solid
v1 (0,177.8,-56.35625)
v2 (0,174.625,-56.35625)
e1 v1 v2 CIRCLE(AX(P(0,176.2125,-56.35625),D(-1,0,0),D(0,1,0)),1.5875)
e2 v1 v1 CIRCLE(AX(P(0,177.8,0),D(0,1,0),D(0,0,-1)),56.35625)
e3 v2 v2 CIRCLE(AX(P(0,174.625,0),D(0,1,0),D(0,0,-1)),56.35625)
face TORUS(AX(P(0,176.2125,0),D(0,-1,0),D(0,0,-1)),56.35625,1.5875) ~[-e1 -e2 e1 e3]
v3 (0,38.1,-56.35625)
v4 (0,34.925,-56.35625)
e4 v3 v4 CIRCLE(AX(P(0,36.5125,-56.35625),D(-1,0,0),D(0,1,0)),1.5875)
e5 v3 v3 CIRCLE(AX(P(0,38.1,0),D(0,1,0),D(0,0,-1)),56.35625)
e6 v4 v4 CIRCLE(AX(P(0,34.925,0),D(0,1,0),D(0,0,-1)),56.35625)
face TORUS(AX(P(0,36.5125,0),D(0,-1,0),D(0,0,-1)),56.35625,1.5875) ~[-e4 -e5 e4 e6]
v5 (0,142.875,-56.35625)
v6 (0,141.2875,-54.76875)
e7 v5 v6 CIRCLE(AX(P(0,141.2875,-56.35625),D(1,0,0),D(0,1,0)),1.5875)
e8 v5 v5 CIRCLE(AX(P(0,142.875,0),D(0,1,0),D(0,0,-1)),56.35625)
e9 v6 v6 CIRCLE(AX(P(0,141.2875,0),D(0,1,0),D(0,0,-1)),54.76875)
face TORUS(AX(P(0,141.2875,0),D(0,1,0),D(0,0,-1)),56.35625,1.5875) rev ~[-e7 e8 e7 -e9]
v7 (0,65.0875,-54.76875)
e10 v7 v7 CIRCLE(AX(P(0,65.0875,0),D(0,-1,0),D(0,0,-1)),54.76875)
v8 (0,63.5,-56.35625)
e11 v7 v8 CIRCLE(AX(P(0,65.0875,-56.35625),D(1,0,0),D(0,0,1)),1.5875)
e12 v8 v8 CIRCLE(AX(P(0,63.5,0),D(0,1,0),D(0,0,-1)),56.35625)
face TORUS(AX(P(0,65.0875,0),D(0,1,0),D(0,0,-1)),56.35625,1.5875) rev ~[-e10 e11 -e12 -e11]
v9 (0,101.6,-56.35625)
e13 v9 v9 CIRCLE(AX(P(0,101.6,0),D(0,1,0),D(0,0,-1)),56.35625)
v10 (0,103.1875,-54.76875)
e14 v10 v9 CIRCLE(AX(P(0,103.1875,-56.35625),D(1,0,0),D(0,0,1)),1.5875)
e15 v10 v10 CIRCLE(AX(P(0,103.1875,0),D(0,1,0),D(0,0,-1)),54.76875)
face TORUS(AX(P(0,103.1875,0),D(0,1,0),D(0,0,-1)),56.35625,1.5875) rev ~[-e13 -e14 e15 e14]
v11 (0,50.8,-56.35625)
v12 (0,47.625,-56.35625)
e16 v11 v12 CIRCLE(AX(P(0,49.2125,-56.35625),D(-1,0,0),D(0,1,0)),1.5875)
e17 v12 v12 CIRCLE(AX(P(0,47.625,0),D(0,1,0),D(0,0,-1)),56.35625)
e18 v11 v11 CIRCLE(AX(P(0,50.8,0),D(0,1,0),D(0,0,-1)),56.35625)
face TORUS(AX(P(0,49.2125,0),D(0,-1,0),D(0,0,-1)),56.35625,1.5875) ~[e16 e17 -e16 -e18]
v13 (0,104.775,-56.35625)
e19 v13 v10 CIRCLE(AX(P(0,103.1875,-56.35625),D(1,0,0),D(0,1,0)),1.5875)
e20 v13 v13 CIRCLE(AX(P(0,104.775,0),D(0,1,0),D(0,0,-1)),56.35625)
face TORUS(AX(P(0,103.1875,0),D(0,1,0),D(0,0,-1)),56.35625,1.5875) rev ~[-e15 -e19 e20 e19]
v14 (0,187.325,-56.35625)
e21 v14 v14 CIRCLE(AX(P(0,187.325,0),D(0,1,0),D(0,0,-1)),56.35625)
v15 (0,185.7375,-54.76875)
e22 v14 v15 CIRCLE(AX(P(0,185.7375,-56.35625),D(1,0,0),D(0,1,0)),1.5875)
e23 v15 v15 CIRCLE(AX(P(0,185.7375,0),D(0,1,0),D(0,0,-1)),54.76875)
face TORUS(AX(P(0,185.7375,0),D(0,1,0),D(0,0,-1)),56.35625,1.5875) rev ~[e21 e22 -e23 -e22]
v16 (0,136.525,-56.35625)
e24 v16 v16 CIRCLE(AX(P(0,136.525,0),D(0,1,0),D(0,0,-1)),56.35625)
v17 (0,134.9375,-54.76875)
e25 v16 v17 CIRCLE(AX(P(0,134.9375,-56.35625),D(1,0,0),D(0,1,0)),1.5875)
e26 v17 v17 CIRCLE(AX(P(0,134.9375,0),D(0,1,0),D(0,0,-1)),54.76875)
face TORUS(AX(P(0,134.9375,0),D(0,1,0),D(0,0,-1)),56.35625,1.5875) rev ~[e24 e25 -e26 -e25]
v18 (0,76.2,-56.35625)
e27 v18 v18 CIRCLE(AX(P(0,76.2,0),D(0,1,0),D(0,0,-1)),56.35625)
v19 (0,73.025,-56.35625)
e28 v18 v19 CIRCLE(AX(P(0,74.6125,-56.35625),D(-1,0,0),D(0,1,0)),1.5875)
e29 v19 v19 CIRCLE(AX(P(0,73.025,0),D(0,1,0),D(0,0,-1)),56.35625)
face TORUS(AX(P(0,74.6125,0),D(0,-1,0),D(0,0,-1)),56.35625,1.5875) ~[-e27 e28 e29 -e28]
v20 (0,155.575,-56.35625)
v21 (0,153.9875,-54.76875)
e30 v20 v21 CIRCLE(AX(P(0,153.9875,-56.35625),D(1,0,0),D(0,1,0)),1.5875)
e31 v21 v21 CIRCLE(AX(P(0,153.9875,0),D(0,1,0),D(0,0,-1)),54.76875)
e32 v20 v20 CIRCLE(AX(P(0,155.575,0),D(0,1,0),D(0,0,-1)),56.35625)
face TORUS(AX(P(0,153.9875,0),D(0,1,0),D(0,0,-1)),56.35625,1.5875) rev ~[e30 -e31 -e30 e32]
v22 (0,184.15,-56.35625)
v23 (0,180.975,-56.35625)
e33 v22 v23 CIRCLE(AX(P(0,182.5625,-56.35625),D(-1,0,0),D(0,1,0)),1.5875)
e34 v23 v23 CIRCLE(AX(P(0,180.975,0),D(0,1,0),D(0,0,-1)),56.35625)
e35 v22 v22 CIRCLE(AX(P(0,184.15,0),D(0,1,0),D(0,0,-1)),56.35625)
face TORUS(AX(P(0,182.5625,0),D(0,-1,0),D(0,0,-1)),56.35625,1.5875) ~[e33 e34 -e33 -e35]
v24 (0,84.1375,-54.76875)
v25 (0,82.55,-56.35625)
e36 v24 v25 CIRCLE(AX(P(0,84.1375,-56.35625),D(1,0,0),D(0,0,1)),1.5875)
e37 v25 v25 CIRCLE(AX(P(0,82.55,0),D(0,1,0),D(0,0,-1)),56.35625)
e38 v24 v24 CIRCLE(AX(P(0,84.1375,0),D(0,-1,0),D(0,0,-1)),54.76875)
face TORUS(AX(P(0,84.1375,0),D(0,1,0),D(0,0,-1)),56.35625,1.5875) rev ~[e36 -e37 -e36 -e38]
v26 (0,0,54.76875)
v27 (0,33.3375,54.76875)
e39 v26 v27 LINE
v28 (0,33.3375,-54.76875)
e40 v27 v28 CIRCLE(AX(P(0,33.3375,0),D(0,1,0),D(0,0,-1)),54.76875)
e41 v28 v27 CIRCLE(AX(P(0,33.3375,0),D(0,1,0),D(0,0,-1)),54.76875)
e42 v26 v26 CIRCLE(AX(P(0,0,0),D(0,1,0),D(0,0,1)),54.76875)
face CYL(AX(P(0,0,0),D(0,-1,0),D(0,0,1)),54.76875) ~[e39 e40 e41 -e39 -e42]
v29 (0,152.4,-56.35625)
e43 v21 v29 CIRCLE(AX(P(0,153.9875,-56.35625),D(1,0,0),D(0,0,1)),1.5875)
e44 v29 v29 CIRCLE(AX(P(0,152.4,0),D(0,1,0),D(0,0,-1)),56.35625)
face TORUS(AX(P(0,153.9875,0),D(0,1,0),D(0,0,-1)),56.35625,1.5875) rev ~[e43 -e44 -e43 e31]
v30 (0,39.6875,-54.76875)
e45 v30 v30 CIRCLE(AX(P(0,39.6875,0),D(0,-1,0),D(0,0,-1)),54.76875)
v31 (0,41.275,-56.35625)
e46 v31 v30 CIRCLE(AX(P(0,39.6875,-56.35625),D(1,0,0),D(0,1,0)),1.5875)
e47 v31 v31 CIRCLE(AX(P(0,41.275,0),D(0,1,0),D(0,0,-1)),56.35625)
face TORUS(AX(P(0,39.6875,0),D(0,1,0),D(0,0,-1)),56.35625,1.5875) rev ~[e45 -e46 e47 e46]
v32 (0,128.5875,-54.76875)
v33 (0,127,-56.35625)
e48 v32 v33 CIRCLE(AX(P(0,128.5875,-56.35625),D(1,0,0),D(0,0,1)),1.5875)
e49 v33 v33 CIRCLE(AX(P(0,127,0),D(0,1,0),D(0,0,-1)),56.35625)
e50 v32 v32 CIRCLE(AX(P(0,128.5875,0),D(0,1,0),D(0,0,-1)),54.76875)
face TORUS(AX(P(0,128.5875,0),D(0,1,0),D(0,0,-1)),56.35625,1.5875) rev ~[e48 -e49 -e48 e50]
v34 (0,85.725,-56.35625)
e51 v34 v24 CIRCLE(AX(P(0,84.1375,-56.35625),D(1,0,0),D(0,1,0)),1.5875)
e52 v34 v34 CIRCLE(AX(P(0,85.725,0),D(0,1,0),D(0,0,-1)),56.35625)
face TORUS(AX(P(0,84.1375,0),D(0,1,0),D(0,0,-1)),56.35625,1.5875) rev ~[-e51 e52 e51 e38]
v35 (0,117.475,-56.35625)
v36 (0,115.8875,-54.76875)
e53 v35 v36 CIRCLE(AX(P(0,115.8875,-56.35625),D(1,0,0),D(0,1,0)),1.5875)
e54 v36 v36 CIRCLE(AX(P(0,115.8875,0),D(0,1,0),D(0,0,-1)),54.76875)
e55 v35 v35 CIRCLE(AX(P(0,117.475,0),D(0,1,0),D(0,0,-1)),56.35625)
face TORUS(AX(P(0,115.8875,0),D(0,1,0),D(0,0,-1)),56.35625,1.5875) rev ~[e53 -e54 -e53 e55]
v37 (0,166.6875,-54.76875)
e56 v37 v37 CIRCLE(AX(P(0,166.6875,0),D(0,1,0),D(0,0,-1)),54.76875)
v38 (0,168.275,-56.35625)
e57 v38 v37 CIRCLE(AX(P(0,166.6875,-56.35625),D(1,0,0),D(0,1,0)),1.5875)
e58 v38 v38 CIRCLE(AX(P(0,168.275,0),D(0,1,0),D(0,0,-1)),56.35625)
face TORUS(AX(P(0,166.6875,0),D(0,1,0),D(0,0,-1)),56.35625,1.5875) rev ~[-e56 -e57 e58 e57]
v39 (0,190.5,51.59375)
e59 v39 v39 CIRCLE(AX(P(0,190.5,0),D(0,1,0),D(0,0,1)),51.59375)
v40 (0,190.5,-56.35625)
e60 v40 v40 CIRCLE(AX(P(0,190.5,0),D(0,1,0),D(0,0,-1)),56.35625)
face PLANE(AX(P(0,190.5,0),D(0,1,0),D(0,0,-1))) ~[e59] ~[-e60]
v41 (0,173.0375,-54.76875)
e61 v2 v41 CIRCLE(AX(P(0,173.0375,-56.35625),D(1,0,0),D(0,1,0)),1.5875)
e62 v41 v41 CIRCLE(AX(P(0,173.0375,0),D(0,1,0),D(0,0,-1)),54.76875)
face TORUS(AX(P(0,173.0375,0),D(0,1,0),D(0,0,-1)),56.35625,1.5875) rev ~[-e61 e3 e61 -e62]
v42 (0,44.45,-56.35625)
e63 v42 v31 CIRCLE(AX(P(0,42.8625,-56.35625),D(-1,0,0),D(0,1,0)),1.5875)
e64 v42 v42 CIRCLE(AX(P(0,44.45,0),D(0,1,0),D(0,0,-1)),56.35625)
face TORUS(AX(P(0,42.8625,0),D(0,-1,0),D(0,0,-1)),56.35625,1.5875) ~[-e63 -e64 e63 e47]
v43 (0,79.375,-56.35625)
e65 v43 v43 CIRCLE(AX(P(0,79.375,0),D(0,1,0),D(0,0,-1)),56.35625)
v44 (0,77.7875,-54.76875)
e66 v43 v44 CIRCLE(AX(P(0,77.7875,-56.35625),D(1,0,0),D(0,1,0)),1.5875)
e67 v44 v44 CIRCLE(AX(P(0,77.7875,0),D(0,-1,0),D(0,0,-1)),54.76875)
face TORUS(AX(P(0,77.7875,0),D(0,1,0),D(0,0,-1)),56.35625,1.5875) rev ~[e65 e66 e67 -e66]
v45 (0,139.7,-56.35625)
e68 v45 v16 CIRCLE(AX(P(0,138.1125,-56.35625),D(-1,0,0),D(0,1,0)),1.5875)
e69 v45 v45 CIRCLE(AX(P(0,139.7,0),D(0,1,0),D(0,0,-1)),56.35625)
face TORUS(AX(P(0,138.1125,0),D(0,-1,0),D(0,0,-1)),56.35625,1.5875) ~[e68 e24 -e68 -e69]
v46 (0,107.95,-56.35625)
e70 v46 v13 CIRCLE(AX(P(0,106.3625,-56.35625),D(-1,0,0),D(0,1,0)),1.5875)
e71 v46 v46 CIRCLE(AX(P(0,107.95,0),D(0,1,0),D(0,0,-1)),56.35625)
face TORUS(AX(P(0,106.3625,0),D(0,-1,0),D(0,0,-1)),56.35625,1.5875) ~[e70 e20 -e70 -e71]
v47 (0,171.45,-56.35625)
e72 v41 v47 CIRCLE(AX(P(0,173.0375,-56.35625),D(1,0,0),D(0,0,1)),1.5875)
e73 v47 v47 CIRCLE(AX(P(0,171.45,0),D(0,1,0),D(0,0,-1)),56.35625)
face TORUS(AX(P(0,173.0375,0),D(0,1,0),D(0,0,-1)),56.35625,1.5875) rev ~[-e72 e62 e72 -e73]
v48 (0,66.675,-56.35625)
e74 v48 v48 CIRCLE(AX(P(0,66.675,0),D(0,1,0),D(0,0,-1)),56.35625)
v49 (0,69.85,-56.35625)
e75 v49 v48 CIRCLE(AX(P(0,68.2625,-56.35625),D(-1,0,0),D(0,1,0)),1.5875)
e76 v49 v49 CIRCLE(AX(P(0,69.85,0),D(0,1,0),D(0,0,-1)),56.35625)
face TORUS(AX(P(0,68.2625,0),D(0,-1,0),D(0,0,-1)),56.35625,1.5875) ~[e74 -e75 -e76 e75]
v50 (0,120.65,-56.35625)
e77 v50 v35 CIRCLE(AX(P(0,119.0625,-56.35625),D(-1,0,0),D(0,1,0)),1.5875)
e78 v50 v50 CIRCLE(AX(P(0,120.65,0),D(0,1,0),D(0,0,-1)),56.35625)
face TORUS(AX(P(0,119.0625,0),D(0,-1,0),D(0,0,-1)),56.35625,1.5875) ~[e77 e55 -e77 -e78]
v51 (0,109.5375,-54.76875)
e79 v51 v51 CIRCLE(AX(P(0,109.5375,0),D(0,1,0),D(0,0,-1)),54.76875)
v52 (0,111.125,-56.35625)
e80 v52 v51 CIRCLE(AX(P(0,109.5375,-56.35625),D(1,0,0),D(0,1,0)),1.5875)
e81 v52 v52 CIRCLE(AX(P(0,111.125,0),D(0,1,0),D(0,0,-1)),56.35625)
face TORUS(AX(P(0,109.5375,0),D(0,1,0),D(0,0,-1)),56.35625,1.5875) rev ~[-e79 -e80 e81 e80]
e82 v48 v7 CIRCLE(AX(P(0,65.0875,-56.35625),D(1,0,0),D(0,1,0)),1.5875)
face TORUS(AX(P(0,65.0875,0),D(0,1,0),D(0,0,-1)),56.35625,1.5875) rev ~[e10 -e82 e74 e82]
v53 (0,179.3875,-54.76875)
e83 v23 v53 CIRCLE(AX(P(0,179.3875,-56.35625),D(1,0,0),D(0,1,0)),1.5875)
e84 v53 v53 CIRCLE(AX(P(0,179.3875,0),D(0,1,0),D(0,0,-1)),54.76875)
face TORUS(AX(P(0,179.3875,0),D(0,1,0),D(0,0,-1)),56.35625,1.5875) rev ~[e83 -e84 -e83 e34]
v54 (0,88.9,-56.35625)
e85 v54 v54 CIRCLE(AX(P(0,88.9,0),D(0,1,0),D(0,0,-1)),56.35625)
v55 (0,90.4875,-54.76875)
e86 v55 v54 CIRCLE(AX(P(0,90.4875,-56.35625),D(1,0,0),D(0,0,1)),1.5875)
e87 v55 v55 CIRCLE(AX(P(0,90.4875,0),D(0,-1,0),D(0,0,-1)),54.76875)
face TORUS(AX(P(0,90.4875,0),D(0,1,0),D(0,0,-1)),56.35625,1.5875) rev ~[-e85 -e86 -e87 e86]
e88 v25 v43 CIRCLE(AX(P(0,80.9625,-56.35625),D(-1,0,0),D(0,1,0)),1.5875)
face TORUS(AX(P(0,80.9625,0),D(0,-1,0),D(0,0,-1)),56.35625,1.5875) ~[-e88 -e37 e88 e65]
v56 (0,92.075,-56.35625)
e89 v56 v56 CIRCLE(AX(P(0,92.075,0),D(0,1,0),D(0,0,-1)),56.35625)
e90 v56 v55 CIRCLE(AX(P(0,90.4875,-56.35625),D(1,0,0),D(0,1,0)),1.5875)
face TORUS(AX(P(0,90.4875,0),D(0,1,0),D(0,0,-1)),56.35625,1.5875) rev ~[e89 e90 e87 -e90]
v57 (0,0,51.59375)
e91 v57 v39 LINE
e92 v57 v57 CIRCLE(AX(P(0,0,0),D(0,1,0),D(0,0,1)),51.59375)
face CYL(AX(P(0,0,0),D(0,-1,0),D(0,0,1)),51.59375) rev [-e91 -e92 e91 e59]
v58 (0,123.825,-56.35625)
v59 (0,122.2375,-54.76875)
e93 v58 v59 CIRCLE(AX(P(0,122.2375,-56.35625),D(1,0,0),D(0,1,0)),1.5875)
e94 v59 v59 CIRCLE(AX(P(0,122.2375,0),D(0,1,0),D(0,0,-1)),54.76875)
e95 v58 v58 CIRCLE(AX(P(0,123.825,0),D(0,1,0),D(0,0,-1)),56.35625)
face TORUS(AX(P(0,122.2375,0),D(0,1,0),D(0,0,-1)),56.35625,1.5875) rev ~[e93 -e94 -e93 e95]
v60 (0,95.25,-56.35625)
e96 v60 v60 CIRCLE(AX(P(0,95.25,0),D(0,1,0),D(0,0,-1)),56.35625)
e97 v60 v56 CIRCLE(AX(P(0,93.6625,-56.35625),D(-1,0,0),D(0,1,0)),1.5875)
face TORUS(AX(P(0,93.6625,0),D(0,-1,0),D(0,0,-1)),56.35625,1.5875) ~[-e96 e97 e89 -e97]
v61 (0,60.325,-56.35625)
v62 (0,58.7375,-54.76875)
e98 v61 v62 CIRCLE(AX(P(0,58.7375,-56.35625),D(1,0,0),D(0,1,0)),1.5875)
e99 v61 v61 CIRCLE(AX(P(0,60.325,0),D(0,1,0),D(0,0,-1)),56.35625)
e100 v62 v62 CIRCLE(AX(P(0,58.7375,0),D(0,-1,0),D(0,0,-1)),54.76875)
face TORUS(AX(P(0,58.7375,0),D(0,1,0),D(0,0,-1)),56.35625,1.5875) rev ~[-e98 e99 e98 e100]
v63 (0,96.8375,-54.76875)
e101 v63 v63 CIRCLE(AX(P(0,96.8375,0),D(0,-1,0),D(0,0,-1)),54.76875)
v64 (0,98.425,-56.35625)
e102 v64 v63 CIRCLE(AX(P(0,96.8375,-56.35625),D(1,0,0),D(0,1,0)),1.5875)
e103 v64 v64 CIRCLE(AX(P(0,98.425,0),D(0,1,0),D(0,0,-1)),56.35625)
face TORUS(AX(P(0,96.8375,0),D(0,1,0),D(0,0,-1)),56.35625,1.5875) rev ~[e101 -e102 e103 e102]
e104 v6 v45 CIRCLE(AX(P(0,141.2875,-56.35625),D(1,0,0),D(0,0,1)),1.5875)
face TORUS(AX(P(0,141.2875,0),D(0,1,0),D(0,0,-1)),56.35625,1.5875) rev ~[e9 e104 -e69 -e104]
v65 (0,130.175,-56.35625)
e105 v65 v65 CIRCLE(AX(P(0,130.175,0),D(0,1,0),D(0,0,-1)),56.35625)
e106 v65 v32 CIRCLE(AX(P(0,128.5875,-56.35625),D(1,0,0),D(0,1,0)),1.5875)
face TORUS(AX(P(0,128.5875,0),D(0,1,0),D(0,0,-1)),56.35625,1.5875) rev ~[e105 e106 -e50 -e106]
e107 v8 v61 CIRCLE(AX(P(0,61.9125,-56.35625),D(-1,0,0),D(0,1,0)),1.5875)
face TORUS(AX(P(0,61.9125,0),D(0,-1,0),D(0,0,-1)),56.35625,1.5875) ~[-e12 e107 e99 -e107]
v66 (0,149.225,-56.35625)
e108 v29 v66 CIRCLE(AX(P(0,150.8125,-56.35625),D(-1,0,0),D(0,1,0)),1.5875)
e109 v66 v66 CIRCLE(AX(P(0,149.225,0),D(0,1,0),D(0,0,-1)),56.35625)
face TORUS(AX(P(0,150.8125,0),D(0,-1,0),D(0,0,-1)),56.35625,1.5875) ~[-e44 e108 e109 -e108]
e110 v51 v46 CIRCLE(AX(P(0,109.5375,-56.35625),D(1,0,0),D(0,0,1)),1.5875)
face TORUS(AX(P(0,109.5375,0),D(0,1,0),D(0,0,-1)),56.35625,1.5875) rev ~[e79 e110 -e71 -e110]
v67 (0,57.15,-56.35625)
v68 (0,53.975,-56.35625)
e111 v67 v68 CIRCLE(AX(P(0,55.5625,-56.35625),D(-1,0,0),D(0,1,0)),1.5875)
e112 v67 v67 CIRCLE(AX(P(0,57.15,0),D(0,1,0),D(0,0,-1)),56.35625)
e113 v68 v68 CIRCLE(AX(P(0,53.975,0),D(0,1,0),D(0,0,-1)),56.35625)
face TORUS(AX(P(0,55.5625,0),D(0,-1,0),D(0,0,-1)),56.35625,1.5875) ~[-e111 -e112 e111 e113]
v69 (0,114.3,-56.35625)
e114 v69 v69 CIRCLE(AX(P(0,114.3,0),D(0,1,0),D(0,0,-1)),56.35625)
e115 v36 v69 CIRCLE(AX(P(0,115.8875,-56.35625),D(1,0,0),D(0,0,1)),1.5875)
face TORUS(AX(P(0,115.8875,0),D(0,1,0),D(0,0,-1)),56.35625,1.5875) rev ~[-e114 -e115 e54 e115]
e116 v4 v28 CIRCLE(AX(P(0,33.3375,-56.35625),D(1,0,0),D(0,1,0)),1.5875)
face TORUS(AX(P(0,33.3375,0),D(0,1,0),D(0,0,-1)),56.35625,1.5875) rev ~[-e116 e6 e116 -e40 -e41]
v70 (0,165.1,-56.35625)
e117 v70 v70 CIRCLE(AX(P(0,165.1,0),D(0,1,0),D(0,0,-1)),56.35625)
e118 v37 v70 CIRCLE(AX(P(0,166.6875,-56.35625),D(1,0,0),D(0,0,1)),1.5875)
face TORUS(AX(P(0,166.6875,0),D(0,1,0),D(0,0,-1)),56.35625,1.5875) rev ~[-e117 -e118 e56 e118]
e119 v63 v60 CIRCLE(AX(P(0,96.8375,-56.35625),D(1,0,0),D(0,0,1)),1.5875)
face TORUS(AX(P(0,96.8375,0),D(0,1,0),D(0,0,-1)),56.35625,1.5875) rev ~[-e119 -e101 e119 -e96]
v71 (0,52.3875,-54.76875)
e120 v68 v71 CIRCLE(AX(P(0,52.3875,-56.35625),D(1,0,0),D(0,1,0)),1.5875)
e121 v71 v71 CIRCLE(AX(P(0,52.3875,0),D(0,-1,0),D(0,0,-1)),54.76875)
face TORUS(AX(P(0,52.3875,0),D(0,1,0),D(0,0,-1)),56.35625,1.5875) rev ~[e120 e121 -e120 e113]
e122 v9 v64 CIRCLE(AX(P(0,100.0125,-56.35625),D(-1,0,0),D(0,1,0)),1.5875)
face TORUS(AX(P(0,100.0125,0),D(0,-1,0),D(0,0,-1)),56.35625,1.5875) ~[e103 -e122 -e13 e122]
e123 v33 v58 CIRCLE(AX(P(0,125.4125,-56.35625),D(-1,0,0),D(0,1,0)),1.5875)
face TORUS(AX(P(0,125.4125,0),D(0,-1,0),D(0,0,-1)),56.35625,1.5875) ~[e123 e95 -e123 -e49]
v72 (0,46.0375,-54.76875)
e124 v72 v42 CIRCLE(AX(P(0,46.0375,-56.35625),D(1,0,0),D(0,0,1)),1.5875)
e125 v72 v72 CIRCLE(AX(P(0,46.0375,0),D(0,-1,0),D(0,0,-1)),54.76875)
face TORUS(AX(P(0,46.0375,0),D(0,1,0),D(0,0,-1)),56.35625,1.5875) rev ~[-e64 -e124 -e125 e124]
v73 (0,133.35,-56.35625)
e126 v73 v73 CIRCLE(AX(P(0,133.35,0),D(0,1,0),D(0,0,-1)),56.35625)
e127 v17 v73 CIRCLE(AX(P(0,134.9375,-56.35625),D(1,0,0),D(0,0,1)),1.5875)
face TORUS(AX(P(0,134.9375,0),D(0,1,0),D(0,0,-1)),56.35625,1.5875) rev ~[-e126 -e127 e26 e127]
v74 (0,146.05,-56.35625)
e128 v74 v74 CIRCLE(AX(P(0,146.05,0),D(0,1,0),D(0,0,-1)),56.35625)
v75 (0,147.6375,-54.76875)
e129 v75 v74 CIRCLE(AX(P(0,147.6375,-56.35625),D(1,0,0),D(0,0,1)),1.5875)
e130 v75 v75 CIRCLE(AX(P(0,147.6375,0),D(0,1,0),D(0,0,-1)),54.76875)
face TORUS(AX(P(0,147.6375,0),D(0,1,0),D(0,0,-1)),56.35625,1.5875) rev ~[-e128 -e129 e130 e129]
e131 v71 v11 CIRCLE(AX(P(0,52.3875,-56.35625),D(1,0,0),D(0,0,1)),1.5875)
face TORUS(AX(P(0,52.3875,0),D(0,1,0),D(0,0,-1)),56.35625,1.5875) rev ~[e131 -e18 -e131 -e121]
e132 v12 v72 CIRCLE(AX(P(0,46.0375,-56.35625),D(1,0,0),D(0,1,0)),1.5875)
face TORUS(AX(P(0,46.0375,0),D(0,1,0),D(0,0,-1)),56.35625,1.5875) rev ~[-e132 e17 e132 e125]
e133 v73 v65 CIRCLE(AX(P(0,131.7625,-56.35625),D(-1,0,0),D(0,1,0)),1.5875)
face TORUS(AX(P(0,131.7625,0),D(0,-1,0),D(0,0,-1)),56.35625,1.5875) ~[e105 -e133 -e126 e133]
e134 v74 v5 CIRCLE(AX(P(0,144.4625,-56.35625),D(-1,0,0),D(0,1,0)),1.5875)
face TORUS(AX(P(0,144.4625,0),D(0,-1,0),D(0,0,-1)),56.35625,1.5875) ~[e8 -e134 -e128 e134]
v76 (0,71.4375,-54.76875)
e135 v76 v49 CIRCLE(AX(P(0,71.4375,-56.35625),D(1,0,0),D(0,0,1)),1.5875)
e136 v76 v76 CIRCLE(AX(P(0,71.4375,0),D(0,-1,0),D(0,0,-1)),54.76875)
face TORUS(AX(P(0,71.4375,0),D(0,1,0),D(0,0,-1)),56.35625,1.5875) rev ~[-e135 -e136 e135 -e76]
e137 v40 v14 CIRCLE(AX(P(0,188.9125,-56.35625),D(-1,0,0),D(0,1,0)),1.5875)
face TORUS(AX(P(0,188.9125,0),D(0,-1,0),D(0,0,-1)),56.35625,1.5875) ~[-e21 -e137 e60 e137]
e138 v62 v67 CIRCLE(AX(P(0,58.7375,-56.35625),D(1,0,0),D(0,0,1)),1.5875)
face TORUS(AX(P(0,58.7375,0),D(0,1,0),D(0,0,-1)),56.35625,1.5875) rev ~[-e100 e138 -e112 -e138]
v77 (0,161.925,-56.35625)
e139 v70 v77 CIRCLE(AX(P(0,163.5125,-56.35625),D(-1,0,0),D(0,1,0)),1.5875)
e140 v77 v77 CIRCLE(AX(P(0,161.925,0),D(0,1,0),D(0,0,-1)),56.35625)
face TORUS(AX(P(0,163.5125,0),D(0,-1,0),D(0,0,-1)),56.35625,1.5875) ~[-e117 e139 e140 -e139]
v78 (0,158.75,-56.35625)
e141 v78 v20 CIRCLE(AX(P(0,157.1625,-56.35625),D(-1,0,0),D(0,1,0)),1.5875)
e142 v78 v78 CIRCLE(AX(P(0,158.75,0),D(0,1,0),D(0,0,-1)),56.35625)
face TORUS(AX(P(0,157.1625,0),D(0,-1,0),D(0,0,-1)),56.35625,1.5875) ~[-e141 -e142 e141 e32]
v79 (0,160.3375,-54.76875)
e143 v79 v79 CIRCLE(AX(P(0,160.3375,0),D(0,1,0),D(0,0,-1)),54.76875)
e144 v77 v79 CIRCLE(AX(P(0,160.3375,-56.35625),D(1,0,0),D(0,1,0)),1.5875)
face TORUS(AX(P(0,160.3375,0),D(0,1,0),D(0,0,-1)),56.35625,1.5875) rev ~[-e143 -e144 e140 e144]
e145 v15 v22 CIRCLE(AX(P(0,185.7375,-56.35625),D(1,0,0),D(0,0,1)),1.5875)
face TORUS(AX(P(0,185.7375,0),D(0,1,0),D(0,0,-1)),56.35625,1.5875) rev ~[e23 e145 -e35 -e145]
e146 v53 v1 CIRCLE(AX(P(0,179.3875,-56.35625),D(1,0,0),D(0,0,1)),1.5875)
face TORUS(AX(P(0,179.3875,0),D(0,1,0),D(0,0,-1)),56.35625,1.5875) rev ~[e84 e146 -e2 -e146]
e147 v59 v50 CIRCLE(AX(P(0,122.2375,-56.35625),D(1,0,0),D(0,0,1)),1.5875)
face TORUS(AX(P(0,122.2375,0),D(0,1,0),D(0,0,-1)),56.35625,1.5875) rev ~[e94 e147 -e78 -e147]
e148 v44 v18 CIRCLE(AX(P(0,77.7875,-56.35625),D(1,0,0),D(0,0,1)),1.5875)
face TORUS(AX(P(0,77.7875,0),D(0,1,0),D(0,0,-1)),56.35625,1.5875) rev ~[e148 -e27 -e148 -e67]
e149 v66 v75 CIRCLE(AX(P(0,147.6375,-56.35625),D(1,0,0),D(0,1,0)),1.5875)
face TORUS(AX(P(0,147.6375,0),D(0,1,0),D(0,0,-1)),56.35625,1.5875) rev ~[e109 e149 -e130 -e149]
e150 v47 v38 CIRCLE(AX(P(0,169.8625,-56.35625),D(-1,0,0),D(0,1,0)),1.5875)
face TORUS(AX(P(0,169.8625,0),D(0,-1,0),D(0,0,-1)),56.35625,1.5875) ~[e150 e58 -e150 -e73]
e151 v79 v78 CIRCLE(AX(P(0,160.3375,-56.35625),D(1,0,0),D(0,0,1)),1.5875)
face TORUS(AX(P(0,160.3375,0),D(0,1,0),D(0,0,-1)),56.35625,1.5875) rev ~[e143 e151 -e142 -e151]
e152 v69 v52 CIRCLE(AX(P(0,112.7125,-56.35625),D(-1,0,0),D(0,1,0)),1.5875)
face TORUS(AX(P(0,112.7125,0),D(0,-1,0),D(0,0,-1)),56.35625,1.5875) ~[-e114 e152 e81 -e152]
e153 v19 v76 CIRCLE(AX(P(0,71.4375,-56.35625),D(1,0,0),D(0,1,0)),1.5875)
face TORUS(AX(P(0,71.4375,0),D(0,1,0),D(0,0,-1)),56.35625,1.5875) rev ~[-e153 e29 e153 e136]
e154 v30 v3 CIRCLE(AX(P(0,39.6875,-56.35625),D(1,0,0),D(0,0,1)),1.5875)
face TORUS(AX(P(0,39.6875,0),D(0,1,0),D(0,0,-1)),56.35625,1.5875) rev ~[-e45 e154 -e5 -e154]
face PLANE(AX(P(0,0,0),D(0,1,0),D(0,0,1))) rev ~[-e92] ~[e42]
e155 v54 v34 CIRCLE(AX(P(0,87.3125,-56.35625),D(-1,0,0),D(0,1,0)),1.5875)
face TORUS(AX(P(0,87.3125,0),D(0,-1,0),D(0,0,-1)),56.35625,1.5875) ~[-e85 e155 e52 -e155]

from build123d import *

# Parameters (mm, degrees)
SKETCH1_R           = 54.76875
SKETCH1_R_2         = 51.59375
BOSS_EXTRUDE1_DEPTH = 190.5
LPATTERN1_COUNT     = 24
LPATTERN1_PITCH     = 6.35


with BuildPart() as part:
    # Sketch1 → Boss-Extrude1 (new body)
    with BuildSketch(Plane(origin=(0, 0, 0), x_dir=(1, 0, 0), z_dir=(0, 1, 0))):
        with Locations(Location((0, 0, 0), (0, 0, 270))):
            Circle(SKETCH1_R)
        with Locations(Location((0, 0, 0), (0, 0, 270))):
            Circle(SKETCH1_R_2, mode=Mode.SUBTRACT)
    extrude(amount=BOSS_EXTRUDE1_DEPTH)

    # Sketch2 → Revolve1 (revolve)
    with BuildSketch(Plane.XY, mode=Mode.PRIVATE) as revolve1_sk:
        with BuildLine():
            Line((-54.76875, 185.7375), (-54.76875, 190.5))
            Line((-54.76875, 190.5), (-56.35625, 190.5))
            ThreePointArc((-56.35625, 190.5), (-57.94375, 188.9125), (-56.35625, 187.325))
            ThreePointArc((-56.35625, 187.325), (-55.233717985, 186.860032015), (-54.76875, 185.7375))
        make_face()
        with BuildLine():
            Line((-54.76875, 184.15), (-54.76875, 185.7375))
            ThreePointArc((-54.76875, 185.7375), (-55.233717985, 184.614967985), (-56.35625, 184.15))
            Line((-56.35625, 184.15), (-54.76875, 184.15))
        make_face()
    revolve1 = revolve(revolve1_sk.sketch.rotate(Axis((0, 0, 0), (0, 1, 0)), 270), axis=Axis((0, 0, 0), (0, 1, 0)))

    # LPattern1: Revolve1 ×24
    with Locations(*[(0, -i * LPATTERN1_PITCH, 0) for i in range(1, LPATTERN1_COUNT)]):
        add(revolve1)

    # Sketch3 → Revolve2 (revolve)
    with BuildSketch(Plane.XY, mode=Mode.PRIVATE) as revolve2_sk:
        with BuildLine():
            ThreePointArc((-56.35625, 38.1), (-57.94375, 36.5125), (-56.35625, 34.925))
            ThreePointArc((-56.35625, 34.925), (-55.233717985, 34.460032015), (-54.76875, 33.3375))
            Line((-54.76875, 33.3375), (-54.76875, 38.1))
            Line((-54.76875, 38.1), (-56.35625, 38.1))
        make_face()
    revolve(revolve2_sk.sketch.rotate(Axis((0, 0, 0), (0, 1, 0)), 270), axis=Axis((0, 0, 0), (0, 1, 0)))


solid = part.part
